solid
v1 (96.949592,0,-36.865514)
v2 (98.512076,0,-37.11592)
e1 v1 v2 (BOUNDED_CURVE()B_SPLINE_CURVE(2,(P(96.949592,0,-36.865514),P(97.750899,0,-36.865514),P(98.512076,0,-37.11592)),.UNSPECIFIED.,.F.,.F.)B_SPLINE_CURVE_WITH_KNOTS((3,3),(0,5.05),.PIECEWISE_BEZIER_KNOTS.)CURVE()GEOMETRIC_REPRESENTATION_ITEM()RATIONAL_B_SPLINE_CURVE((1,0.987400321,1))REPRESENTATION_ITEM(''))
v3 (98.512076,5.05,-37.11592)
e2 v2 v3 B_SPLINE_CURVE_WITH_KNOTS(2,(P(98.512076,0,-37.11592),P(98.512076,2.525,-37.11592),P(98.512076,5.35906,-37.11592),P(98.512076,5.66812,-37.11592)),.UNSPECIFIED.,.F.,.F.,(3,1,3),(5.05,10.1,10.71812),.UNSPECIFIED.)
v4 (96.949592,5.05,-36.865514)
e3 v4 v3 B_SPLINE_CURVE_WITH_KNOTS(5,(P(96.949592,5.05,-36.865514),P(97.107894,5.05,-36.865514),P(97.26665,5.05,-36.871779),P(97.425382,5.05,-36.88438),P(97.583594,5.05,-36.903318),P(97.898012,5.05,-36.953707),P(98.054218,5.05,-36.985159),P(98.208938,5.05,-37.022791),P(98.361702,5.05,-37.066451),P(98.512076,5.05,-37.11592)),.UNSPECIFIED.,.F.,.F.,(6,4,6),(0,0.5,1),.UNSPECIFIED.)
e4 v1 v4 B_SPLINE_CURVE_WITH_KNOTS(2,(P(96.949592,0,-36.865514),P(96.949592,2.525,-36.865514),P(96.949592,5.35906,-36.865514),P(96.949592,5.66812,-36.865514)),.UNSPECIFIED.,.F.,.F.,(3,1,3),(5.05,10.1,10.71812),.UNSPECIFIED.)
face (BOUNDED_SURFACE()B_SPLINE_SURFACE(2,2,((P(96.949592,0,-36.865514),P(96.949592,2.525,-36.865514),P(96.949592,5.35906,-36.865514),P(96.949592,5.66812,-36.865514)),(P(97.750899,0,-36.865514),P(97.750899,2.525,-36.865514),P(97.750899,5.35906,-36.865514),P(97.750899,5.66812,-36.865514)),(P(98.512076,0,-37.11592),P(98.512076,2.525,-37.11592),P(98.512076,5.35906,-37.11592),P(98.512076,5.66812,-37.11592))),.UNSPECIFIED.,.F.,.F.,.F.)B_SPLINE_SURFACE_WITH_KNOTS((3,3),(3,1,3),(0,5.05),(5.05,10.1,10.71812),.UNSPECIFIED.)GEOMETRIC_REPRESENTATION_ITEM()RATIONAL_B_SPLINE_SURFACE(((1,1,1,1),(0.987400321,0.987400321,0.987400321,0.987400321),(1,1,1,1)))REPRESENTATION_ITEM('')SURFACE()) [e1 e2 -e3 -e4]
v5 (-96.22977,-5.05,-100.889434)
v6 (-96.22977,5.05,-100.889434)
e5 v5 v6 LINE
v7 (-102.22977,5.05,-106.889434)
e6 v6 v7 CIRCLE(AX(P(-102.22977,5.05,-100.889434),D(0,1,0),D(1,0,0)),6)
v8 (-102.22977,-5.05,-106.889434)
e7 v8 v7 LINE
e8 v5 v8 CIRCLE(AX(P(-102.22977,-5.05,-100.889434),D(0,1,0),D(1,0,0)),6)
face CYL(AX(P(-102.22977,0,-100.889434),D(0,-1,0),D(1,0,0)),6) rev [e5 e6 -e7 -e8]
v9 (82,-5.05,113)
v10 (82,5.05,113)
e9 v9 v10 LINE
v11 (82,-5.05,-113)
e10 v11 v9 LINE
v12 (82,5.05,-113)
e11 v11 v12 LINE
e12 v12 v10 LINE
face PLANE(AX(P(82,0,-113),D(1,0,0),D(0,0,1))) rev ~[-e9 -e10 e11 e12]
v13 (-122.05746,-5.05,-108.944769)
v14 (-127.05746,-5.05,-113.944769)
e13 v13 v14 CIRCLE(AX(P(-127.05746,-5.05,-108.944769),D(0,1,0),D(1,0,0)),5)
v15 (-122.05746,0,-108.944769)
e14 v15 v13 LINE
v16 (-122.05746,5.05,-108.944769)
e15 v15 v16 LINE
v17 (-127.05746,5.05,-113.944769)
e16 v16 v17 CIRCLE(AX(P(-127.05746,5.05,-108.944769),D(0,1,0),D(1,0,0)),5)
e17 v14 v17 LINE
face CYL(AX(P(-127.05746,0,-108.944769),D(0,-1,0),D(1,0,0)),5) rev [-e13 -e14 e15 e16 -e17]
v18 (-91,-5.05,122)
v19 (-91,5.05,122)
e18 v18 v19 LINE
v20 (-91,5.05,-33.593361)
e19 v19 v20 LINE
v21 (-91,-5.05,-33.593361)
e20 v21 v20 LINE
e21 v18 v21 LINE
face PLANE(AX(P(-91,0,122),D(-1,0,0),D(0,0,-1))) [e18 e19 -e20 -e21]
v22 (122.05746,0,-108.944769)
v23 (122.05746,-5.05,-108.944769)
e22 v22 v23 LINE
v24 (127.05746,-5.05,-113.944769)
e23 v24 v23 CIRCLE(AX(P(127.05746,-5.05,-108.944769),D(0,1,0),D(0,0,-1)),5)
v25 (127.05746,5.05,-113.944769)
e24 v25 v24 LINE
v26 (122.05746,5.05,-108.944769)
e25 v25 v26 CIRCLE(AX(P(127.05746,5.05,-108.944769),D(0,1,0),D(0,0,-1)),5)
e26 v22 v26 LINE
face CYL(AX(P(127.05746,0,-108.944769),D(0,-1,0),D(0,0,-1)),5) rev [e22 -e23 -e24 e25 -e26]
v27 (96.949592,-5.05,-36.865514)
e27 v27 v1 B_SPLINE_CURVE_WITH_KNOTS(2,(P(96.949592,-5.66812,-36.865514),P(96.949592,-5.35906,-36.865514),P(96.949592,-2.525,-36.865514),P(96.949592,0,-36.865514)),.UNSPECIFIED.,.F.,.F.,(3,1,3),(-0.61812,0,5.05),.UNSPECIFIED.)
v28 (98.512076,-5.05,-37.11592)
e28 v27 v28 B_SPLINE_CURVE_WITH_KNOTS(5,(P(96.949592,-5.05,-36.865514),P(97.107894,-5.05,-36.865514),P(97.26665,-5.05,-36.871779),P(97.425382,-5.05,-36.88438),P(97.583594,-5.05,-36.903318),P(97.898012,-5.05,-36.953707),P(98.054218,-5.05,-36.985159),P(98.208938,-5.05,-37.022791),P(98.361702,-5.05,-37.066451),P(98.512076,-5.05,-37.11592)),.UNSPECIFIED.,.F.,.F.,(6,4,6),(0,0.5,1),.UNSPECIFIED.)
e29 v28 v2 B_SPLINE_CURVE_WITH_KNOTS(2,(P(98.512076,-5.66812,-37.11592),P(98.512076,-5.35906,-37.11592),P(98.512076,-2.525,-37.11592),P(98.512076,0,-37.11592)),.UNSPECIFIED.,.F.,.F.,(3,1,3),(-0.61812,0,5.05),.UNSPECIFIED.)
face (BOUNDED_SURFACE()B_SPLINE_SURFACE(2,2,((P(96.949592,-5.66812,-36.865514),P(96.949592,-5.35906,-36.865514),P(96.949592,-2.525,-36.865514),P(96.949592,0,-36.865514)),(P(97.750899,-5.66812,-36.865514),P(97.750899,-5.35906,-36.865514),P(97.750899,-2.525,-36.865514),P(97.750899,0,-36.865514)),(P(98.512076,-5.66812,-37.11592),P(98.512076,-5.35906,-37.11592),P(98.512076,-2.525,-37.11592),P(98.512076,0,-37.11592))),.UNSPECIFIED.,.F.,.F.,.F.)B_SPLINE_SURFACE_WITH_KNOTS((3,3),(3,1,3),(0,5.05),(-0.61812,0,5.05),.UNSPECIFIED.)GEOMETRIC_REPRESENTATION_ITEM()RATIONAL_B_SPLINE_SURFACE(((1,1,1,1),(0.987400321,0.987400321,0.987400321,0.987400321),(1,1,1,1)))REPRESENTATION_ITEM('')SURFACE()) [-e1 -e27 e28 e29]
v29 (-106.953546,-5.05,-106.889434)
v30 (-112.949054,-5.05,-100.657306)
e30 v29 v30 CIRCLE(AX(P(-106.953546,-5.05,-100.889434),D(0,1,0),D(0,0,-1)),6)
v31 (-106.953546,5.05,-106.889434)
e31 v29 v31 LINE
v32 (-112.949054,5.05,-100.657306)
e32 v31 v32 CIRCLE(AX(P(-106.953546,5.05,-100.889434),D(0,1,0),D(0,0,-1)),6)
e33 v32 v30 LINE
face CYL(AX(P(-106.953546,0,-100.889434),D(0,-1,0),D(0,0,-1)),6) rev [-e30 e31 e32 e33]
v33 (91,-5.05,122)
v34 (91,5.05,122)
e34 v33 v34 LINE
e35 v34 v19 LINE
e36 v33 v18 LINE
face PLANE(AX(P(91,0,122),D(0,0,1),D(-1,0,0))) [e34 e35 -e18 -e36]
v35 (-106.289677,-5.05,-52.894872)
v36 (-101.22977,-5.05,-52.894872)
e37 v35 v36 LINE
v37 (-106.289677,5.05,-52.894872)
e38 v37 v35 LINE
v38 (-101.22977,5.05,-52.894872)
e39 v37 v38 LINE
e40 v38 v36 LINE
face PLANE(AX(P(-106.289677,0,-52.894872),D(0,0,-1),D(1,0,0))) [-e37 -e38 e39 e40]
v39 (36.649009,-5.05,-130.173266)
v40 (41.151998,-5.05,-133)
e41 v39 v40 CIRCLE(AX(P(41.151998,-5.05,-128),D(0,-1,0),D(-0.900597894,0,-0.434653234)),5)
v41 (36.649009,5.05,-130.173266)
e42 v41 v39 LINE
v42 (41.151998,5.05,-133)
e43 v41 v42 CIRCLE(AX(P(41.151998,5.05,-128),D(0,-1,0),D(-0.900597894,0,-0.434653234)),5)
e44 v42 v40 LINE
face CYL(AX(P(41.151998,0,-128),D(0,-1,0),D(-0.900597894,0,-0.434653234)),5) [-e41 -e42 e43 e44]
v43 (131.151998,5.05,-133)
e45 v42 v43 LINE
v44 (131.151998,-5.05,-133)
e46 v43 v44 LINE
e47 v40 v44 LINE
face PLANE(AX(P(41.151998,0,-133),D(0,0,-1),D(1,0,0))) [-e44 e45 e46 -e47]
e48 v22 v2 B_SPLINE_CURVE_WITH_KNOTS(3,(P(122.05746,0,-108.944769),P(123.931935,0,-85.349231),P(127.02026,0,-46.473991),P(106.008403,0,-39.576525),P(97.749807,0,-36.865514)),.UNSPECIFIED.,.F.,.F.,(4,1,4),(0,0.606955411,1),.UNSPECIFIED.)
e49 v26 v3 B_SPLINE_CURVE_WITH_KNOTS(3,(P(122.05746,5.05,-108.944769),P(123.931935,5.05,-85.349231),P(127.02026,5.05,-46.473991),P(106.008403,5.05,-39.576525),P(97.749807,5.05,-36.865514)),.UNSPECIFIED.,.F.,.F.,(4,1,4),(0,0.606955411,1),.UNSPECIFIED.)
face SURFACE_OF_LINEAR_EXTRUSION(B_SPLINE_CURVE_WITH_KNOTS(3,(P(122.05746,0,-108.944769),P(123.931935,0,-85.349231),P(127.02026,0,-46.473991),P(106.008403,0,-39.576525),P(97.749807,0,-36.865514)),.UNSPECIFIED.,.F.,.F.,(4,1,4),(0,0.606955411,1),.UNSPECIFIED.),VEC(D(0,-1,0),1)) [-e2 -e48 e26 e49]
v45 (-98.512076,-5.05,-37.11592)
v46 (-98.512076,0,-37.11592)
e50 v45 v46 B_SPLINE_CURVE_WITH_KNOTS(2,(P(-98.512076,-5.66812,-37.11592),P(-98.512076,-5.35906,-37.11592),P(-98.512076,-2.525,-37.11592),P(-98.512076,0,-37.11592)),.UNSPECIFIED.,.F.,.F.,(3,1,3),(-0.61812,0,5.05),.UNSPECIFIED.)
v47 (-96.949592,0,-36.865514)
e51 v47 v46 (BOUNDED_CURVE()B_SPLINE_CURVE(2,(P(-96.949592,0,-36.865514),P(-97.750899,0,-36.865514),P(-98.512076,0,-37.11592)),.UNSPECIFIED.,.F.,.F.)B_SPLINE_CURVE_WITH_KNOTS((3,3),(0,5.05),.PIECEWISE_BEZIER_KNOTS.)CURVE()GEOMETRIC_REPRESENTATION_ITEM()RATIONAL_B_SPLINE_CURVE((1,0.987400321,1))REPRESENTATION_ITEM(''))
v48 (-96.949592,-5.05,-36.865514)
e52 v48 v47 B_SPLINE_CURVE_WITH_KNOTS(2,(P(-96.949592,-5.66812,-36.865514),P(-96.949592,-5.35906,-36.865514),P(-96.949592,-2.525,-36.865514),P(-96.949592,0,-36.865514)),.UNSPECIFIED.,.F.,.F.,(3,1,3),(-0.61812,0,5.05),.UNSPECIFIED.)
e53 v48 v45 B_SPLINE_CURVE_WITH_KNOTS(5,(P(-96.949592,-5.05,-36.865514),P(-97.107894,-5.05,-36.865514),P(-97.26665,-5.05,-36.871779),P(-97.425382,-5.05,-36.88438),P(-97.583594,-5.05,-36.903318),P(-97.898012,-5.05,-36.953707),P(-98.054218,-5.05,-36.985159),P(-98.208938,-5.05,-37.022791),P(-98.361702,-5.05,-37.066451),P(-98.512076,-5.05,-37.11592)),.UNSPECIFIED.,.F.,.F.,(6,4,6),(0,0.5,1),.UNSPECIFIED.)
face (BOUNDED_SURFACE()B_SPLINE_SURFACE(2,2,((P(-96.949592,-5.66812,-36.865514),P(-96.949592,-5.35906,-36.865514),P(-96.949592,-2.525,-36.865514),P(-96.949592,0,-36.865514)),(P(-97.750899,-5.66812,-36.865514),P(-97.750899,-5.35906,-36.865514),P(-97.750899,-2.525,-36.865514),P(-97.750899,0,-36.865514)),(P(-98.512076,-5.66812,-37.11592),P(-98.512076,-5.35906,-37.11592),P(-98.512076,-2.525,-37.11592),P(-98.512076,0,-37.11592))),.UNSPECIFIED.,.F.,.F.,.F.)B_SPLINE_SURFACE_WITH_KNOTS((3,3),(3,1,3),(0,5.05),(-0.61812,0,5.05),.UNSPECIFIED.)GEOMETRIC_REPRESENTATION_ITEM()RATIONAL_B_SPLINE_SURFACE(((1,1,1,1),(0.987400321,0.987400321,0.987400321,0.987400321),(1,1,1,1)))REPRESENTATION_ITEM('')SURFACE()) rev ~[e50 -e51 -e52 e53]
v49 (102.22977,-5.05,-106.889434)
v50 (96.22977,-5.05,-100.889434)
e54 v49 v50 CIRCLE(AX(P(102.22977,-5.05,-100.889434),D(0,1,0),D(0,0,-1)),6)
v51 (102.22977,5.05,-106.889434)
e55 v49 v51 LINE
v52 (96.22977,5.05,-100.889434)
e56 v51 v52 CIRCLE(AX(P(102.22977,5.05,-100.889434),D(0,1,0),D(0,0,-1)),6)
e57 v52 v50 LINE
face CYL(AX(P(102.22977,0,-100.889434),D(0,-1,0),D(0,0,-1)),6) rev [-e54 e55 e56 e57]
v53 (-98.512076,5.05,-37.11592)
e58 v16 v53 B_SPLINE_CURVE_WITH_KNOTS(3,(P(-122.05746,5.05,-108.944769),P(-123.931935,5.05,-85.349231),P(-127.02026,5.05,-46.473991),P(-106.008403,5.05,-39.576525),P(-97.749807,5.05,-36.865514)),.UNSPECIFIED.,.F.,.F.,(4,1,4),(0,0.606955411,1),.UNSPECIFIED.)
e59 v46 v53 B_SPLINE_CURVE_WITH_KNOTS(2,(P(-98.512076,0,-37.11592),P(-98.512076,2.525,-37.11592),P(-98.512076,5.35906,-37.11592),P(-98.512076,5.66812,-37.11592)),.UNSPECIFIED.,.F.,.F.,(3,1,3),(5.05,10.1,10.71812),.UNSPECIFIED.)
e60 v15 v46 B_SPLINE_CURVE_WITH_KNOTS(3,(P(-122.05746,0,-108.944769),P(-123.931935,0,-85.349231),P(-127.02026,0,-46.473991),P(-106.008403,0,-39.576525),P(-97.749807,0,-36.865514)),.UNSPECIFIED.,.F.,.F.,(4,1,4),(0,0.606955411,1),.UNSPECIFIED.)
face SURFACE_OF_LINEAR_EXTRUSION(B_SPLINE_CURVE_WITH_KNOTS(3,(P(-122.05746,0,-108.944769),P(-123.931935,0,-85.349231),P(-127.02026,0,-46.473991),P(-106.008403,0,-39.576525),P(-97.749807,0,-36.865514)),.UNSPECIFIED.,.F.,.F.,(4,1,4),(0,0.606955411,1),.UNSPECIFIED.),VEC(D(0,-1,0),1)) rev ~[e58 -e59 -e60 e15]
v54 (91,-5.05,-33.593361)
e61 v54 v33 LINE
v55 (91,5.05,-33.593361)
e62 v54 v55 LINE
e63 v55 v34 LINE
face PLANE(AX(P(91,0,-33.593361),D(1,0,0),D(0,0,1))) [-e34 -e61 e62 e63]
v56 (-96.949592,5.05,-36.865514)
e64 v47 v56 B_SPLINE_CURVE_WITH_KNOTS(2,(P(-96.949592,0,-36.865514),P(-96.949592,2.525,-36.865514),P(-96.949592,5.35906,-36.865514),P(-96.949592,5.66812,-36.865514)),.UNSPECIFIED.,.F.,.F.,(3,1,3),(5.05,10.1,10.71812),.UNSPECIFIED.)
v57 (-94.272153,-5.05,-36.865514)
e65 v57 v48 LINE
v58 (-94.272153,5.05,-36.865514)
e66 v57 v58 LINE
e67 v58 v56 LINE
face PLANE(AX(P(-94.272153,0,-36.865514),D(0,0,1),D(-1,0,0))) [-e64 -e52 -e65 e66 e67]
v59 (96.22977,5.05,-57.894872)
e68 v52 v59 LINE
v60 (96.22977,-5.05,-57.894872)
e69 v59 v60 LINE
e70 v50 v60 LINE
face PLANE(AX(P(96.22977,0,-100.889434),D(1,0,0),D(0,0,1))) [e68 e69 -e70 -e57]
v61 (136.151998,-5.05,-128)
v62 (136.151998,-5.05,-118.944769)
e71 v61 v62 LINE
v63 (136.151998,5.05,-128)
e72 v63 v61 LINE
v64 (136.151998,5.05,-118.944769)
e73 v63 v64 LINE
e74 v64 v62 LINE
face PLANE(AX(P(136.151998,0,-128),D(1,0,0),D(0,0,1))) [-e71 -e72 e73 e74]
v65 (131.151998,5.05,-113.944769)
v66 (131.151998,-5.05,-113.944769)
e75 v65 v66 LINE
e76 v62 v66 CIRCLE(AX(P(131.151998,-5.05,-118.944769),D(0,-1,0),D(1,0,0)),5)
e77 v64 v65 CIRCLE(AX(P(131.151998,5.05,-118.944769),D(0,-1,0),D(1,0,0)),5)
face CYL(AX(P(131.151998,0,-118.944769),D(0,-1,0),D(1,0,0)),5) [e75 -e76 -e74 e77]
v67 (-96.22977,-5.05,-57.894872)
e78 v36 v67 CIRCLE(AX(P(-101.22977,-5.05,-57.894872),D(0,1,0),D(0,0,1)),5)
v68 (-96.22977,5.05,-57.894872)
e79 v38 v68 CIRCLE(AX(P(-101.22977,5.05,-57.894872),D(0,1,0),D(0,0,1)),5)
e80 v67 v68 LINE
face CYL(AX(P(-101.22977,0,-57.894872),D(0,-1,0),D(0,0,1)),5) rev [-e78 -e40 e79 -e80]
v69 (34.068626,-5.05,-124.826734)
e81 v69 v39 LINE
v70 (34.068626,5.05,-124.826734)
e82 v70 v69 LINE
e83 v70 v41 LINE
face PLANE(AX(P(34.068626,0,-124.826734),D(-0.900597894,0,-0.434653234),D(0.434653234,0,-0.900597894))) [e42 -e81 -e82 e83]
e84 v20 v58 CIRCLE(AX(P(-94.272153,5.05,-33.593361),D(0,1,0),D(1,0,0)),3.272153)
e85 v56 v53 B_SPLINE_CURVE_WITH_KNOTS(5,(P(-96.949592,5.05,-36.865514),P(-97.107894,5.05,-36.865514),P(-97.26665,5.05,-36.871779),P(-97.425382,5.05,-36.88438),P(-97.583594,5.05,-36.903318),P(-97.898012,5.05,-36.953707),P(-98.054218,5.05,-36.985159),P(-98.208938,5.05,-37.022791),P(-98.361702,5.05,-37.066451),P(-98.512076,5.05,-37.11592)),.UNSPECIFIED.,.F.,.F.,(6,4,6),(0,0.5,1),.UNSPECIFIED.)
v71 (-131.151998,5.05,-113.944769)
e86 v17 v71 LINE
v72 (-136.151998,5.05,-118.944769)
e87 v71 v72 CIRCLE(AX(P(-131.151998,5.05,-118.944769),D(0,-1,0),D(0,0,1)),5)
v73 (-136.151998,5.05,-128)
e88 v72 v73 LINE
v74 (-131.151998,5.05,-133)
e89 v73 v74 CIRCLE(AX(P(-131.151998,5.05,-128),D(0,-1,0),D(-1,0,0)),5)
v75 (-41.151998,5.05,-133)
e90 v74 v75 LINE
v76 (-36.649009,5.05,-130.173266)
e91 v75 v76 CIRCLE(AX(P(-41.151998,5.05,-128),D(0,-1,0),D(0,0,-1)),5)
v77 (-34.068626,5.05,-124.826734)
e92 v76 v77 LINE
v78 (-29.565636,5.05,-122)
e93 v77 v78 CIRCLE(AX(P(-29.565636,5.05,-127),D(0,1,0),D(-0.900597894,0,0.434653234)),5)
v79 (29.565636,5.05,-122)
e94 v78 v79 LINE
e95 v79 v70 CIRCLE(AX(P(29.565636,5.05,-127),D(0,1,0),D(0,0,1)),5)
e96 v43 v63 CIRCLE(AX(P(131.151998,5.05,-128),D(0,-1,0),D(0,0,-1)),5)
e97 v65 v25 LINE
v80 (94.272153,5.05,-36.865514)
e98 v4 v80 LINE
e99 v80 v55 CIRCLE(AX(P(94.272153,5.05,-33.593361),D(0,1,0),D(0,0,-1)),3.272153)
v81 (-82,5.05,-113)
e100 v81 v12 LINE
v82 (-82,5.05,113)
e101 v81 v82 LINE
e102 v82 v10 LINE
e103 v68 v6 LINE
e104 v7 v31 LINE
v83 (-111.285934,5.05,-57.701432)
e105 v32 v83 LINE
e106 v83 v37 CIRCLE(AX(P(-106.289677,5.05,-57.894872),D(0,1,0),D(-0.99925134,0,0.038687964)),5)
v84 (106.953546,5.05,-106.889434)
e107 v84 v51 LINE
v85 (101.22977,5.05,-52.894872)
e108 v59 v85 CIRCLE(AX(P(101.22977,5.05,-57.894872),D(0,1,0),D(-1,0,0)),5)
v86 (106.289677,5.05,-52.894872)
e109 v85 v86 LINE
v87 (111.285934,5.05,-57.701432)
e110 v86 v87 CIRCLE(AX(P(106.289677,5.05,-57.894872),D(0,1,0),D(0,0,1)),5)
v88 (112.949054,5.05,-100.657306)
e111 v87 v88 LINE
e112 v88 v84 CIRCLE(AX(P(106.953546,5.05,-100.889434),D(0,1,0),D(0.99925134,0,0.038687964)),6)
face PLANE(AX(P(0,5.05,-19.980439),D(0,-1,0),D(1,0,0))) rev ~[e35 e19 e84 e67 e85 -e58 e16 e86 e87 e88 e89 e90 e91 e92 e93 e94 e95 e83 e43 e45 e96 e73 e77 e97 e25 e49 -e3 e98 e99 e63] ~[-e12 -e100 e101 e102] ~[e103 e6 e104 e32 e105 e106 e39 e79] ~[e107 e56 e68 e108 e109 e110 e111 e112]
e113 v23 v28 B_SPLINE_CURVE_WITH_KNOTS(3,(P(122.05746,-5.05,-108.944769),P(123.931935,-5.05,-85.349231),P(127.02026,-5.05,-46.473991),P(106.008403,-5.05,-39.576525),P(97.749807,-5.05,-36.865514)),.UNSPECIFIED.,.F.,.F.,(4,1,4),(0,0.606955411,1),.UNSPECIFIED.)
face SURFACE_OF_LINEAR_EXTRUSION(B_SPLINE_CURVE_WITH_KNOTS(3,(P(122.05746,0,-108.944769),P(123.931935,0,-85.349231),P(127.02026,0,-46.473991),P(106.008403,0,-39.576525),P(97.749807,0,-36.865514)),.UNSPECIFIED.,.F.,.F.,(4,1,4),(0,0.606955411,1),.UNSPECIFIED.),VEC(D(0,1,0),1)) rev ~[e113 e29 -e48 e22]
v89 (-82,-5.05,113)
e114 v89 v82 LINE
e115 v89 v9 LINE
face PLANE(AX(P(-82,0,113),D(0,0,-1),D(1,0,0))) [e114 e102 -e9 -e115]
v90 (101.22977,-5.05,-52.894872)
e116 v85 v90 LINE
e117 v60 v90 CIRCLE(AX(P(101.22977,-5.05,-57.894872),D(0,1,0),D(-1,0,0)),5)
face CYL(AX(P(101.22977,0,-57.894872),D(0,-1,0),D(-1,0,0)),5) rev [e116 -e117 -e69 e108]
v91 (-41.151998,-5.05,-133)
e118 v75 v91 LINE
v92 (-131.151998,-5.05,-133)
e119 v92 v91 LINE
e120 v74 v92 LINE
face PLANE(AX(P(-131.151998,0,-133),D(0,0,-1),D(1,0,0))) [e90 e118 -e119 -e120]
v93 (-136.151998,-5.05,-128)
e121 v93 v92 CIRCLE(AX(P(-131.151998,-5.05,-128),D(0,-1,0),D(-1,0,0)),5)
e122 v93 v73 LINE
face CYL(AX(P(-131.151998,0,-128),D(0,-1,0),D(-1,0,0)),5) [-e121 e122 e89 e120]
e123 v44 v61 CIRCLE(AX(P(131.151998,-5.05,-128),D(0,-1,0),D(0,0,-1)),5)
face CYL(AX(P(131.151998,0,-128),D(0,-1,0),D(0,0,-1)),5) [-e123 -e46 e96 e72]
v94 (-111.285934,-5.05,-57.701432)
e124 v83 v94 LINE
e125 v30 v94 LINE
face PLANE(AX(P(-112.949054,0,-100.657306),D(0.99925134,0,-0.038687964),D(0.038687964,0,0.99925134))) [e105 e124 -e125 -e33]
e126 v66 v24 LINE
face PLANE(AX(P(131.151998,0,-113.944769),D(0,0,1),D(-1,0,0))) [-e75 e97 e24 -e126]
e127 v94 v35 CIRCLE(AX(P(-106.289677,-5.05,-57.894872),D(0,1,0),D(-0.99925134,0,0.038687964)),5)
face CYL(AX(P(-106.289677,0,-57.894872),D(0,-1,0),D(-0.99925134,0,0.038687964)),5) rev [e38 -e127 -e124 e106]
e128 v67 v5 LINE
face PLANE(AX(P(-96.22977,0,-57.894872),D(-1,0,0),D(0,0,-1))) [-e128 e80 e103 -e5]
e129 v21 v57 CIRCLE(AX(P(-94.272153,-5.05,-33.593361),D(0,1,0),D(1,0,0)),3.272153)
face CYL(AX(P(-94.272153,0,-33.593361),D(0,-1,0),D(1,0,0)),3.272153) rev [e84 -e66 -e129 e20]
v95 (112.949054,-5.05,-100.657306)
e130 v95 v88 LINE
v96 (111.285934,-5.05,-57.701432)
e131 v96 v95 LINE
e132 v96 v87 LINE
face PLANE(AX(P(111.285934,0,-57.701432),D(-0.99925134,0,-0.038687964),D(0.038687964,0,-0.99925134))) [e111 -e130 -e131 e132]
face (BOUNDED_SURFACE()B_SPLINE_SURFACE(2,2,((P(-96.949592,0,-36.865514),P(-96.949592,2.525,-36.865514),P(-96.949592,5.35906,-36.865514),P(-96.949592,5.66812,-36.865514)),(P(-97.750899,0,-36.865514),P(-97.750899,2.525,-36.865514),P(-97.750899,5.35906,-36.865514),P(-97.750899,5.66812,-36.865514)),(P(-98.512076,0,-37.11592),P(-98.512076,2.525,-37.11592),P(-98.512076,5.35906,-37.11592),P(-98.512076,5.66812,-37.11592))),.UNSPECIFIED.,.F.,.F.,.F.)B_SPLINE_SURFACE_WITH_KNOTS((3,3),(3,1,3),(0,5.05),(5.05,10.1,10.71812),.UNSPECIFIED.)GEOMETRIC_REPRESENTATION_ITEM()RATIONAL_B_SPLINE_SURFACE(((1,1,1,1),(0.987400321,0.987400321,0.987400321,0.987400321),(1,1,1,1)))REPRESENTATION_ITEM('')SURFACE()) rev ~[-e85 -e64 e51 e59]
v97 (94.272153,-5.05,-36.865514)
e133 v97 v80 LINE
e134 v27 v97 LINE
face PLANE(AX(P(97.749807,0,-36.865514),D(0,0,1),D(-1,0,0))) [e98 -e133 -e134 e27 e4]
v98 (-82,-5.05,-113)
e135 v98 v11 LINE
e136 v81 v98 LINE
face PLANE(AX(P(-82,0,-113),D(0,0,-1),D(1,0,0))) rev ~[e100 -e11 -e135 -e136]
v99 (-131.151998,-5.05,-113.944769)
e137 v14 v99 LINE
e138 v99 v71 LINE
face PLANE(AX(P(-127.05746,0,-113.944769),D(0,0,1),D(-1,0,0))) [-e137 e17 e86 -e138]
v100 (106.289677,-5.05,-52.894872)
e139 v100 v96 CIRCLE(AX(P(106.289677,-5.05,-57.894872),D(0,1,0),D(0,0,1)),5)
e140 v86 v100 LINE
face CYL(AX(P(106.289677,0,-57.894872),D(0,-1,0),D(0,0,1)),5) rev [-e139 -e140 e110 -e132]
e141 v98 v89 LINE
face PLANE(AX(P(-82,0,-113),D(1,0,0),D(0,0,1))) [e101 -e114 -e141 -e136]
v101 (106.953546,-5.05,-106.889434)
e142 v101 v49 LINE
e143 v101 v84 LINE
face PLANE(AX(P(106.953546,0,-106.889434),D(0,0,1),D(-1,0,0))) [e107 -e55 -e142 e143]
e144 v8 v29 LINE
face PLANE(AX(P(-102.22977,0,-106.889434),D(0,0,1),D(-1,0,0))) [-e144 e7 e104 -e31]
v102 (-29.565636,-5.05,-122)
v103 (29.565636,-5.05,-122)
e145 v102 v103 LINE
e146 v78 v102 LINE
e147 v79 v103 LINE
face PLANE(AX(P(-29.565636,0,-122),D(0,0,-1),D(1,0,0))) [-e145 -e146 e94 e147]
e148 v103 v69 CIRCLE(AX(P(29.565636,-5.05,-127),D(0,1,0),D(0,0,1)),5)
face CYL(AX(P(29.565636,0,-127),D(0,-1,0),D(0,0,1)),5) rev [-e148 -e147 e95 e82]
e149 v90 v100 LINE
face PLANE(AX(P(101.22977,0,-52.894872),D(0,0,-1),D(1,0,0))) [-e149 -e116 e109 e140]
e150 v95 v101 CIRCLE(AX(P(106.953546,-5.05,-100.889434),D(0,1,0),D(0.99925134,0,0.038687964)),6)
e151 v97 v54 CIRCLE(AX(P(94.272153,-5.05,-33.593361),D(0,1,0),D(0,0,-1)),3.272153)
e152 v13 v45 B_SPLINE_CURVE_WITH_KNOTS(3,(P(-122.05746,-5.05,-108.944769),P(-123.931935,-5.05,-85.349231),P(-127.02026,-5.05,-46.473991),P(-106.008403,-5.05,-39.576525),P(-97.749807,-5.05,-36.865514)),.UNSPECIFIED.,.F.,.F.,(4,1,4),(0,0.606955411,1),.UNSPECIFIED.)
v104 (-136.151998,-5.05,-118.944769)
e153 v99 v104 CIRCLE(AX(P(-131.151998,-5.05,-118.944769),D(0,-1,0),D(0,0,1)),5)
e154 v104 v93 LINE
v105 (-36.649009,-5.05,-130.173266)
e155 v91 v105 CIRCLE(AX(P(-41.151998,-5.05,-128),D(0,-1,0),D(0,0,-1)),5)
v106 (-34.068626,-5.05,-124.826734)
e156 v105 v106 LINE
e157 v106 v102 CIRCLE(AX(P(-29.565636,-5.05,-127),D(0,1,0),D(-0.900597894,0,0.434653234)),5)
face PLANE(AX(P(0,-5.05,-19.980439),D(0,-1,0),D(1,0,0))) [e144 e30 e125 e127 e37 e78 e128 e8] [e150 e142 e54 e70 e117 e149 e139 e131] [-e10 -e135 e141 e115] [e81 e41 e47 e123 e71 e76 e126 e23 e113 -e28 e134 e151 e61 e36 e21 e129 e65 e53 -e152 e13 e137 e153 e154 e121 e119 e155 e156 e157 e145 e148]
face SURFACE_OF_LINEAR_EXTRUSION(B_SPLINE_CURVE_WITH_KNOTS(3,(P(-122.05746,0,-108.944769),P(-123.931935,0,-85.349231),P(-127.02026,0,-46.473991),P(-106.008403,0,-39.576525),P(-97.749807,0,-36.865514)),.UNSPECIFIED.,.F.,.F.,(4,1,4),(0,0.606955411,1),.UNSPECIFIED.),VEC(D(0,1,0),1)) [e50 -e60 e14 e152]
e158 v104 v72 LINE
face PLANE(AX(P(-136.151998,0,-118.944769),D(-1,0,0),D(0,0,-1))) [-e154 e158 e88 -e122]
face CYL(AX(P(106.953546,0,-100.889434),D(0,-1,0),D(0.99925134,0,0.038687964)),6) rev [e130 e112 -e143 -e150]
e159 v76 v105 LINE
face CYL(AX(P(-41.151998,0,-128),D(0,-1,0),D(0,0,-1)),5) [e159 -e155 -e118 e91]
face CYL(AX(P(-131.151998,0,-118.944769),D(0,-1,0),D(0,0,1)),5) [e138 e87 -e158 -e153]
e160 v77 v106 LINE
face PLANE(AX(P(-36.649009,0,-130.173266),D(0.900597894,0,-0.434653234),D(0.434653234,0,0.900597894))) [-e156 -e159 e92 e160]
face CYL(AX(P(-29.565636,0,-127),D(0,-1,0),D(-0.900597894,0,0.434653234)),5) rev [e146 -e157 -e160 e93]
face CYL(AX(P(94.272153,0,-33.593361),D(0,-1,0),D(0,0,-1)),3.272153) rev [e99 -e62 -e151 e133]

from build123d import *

# Parameters (mm, degrees)
F0_W     = 164
F0_H     = 226
F1_DEPTH = 5.05
F2_R     = 5
F3_R     = 5


with BuildPart() as f1:
    # F0 (on Front) → F1 (new body, symmetric)
    with BuildSketch(Plane.XZ):
        with BuildLine():
            ThreePointArc((-136.1519984865, -128), (-134.6875323924, -131.5355339059), (-131.1519984865, -133))
            Line((-131.1519984865, -133), (-41.1519984865, -133))
            ThreePointArc((-41.1519984865, -133), (-38.493646634, -132.2347568323), (-36.6490090186, -130.1732661714))
            Line((-36.6490090186, -130.1732661714), (-34.0686259291, -124.8267338286))
            ThreePointArc((-34.0686259291, -124.8267338286), (-32.2239883137, -122.7652431677), (-29.5656364612, -122))
            Line((-29.5656364612, -122), (29.5656364612, -122))
            ThreePointArc((29.5656364612, -122), (32.2239883137, -122.7652431677), (34.0686259291, -124.8267338286))
            Line((34.0686259291, -124.8267338286), (36.6490090186, -130.1732661714))
            ThreePointArc((36.6490090186, -130.1732661714), (38.493646634, -132.2347568323), (41.1519984865, -133))
            Line((41.1519984865, -133), (131.1519984865, -133))
            ThreePointArc((131.1519984865, -133), (134.6875323924, -131.5355339059), (136.1519984865, -128))
            Line((136.1519984865, -128), (136.1519984865, -118.9447689056))
            ThreePointArc((136.1519984865, -118.9447689056), (134.6875323924, -115.4092349997), (131.1519984865, -113.9447689056))
            Line((131.1519984865, -113.9447689056), (127.0574602485, -113.9447689056))
            ThreePointArc((127.0574602485, -113.9447689056), (123.5219263425, -112.4803028116), (122.0574602485, -108.9447689056))
            add(Edge.make_bspline(
                [(122.0574602485, -108.9447689056), (123.931935402, -85.3492312011), (127.0202597137, -46.4739905223), (106.0084033701, -39.5765251934), (97.7498069406, -36.8655137718)],
                knots=[0, 0, 0, 0, 0.6069554115, 1, 1, 1, 1], degree=3))
            Line((97.7498069406, -36.8655137718), (94.2721525095, -36.8655137718))
            ThreePointArc((94.2721525095, -36.8655137718), (91.958391281, -35.9071224908), (91, -33.5933612622))
            Line((91, -33.5933612622), (91, 122))
            Line((91, 122), (-91, 122))
            Line((-91, 122), (-91, -33.5933612622))
            ThreePointArc((-91, -33.5933612622), (-91.958391281, -35.9071224908), (-94.2721525095, -36.8655137718))
            Line((-94.2721525095, -36.8655137718), (-97.7498069406, -36.8655137718))
            add(Edge.make_bspline(
                [(-122.0574602485, -108.9447689056), (-123.931935402, -85.3492312011), (-127.0202597137, -46.4739905223), (-106.0084033701, -39.5765251934), (-97.7498069406, -36.8655137718)],
                knots=[0, 0, 0, 0, 0.6069554115, 1, 1, 1, 1], degree=3))
            ThreePointArc((-122.0574602485, -108.9447689056), (-123.5219263425, -112.4803028116), (-127.0574602485, -113.9447689056))
            Line((-127.0574602485, -113.9447689056), (-131.1519984865, -113.9447689056))
            ThreePointArc((-131.1519984865, -113.9447689056), (-134.6875323924, -115.4092349997), (-136.1519984865, -118.9447689056))
            Line((-136.1519984865, -118.9447689056), (-136.1519984865, -128))
        make_face()
        with BuildLine():
            Line((-112.9490544478, -100.6573063768), (-111.2859340244, -57.7014318636))
            ThreePointArc((-111.2859340244, -57.7014318636), (-109.7561453304, -54.291595458), (-106.2896773219, -52.8948716819))
            Line((-106.2896773219, -52.8948716819), (-101.2297698661, -52.8948716819))
            ThreePointArc((-101.2297698661, -52.8948716819), (-97.6942359602, -54.359337776), (-96.2297698661, -57.8948716819))
            Line((-96.2297698661, -57.8948716819), (-96.2297698661, -100.8894341588))
            ThreePointArc((-96.2297698661, -100.8894341588), (-97.987129179, -105.1320748459), (-102.2297698661, -106.8894341588))
            Line((-102.2297698661, -106.8894341588), (-106.9535464048, -106.8894341588))
            ThreePointArc((-106.9535464048, -106.8894341588), (-111.2774778735, -105.049195769), (-112.9490544478, -100.6573063768))
        make_face(mode=Mode.SUBTRACT)
        with BuildLine():
            Line((96.2297698661, -100.8894341588), (96.2297698661, -57.8948716819))
            ThreePointArc((96.2297698661, -57.8948716819), (97.6942359602, -54.359337776), (101.2297698661, -52.8948716819))
            Line((101.2297698661, -52.8948716819), (106.2896773219, -52.8948716819))
            ThreePointArc((106.2896773219, -52.8948716819), (109.7561453304, -54.291595458), (111.2859340244, -57.7014318636))
            Line((111.2859340244, -57.7014318636), (112.9490544478, -100.6573063768))
            ThreePointArc((112.9490544478, -100.6573063768), (111.2774778735, -105.049195769), (106.9535464048, -106.8894341588))
            Line((106.9535464048, -106.8894341588), (102.2297698661, -106.8894341588))
            ThreePointArc((102.2297698661, -106.8894341588), (97.987129179, -105.1320748459), (96.2297698661, -100.8894341588))
        make_face(mode=Mode.SUBTRACT)
        Rectangle(F0_W, F0_H, mode=Mode.SUBTRACT)
    extrude(amount=F1_DEPTH, both=True)

    # F2
    f2_edges = [f1.edges().sort_by_distance(p)[0] for p in [
        (97.749807, 2.525, -36.865514),
        (97.749807, -2.525, -36.865514),
    ]]
    fillet(f2_edges, radius=F2_R)

    # F3
    f3_edges = [f1.edges().sort_by_distance(p)[0] for p in [
        (-97.749807, 2.525, -36.865514),
        (-97.749807, -2.525, -36.865514),
    ]]
    fillet(f3_edges, radius=F3_R)


solid = f1.part
